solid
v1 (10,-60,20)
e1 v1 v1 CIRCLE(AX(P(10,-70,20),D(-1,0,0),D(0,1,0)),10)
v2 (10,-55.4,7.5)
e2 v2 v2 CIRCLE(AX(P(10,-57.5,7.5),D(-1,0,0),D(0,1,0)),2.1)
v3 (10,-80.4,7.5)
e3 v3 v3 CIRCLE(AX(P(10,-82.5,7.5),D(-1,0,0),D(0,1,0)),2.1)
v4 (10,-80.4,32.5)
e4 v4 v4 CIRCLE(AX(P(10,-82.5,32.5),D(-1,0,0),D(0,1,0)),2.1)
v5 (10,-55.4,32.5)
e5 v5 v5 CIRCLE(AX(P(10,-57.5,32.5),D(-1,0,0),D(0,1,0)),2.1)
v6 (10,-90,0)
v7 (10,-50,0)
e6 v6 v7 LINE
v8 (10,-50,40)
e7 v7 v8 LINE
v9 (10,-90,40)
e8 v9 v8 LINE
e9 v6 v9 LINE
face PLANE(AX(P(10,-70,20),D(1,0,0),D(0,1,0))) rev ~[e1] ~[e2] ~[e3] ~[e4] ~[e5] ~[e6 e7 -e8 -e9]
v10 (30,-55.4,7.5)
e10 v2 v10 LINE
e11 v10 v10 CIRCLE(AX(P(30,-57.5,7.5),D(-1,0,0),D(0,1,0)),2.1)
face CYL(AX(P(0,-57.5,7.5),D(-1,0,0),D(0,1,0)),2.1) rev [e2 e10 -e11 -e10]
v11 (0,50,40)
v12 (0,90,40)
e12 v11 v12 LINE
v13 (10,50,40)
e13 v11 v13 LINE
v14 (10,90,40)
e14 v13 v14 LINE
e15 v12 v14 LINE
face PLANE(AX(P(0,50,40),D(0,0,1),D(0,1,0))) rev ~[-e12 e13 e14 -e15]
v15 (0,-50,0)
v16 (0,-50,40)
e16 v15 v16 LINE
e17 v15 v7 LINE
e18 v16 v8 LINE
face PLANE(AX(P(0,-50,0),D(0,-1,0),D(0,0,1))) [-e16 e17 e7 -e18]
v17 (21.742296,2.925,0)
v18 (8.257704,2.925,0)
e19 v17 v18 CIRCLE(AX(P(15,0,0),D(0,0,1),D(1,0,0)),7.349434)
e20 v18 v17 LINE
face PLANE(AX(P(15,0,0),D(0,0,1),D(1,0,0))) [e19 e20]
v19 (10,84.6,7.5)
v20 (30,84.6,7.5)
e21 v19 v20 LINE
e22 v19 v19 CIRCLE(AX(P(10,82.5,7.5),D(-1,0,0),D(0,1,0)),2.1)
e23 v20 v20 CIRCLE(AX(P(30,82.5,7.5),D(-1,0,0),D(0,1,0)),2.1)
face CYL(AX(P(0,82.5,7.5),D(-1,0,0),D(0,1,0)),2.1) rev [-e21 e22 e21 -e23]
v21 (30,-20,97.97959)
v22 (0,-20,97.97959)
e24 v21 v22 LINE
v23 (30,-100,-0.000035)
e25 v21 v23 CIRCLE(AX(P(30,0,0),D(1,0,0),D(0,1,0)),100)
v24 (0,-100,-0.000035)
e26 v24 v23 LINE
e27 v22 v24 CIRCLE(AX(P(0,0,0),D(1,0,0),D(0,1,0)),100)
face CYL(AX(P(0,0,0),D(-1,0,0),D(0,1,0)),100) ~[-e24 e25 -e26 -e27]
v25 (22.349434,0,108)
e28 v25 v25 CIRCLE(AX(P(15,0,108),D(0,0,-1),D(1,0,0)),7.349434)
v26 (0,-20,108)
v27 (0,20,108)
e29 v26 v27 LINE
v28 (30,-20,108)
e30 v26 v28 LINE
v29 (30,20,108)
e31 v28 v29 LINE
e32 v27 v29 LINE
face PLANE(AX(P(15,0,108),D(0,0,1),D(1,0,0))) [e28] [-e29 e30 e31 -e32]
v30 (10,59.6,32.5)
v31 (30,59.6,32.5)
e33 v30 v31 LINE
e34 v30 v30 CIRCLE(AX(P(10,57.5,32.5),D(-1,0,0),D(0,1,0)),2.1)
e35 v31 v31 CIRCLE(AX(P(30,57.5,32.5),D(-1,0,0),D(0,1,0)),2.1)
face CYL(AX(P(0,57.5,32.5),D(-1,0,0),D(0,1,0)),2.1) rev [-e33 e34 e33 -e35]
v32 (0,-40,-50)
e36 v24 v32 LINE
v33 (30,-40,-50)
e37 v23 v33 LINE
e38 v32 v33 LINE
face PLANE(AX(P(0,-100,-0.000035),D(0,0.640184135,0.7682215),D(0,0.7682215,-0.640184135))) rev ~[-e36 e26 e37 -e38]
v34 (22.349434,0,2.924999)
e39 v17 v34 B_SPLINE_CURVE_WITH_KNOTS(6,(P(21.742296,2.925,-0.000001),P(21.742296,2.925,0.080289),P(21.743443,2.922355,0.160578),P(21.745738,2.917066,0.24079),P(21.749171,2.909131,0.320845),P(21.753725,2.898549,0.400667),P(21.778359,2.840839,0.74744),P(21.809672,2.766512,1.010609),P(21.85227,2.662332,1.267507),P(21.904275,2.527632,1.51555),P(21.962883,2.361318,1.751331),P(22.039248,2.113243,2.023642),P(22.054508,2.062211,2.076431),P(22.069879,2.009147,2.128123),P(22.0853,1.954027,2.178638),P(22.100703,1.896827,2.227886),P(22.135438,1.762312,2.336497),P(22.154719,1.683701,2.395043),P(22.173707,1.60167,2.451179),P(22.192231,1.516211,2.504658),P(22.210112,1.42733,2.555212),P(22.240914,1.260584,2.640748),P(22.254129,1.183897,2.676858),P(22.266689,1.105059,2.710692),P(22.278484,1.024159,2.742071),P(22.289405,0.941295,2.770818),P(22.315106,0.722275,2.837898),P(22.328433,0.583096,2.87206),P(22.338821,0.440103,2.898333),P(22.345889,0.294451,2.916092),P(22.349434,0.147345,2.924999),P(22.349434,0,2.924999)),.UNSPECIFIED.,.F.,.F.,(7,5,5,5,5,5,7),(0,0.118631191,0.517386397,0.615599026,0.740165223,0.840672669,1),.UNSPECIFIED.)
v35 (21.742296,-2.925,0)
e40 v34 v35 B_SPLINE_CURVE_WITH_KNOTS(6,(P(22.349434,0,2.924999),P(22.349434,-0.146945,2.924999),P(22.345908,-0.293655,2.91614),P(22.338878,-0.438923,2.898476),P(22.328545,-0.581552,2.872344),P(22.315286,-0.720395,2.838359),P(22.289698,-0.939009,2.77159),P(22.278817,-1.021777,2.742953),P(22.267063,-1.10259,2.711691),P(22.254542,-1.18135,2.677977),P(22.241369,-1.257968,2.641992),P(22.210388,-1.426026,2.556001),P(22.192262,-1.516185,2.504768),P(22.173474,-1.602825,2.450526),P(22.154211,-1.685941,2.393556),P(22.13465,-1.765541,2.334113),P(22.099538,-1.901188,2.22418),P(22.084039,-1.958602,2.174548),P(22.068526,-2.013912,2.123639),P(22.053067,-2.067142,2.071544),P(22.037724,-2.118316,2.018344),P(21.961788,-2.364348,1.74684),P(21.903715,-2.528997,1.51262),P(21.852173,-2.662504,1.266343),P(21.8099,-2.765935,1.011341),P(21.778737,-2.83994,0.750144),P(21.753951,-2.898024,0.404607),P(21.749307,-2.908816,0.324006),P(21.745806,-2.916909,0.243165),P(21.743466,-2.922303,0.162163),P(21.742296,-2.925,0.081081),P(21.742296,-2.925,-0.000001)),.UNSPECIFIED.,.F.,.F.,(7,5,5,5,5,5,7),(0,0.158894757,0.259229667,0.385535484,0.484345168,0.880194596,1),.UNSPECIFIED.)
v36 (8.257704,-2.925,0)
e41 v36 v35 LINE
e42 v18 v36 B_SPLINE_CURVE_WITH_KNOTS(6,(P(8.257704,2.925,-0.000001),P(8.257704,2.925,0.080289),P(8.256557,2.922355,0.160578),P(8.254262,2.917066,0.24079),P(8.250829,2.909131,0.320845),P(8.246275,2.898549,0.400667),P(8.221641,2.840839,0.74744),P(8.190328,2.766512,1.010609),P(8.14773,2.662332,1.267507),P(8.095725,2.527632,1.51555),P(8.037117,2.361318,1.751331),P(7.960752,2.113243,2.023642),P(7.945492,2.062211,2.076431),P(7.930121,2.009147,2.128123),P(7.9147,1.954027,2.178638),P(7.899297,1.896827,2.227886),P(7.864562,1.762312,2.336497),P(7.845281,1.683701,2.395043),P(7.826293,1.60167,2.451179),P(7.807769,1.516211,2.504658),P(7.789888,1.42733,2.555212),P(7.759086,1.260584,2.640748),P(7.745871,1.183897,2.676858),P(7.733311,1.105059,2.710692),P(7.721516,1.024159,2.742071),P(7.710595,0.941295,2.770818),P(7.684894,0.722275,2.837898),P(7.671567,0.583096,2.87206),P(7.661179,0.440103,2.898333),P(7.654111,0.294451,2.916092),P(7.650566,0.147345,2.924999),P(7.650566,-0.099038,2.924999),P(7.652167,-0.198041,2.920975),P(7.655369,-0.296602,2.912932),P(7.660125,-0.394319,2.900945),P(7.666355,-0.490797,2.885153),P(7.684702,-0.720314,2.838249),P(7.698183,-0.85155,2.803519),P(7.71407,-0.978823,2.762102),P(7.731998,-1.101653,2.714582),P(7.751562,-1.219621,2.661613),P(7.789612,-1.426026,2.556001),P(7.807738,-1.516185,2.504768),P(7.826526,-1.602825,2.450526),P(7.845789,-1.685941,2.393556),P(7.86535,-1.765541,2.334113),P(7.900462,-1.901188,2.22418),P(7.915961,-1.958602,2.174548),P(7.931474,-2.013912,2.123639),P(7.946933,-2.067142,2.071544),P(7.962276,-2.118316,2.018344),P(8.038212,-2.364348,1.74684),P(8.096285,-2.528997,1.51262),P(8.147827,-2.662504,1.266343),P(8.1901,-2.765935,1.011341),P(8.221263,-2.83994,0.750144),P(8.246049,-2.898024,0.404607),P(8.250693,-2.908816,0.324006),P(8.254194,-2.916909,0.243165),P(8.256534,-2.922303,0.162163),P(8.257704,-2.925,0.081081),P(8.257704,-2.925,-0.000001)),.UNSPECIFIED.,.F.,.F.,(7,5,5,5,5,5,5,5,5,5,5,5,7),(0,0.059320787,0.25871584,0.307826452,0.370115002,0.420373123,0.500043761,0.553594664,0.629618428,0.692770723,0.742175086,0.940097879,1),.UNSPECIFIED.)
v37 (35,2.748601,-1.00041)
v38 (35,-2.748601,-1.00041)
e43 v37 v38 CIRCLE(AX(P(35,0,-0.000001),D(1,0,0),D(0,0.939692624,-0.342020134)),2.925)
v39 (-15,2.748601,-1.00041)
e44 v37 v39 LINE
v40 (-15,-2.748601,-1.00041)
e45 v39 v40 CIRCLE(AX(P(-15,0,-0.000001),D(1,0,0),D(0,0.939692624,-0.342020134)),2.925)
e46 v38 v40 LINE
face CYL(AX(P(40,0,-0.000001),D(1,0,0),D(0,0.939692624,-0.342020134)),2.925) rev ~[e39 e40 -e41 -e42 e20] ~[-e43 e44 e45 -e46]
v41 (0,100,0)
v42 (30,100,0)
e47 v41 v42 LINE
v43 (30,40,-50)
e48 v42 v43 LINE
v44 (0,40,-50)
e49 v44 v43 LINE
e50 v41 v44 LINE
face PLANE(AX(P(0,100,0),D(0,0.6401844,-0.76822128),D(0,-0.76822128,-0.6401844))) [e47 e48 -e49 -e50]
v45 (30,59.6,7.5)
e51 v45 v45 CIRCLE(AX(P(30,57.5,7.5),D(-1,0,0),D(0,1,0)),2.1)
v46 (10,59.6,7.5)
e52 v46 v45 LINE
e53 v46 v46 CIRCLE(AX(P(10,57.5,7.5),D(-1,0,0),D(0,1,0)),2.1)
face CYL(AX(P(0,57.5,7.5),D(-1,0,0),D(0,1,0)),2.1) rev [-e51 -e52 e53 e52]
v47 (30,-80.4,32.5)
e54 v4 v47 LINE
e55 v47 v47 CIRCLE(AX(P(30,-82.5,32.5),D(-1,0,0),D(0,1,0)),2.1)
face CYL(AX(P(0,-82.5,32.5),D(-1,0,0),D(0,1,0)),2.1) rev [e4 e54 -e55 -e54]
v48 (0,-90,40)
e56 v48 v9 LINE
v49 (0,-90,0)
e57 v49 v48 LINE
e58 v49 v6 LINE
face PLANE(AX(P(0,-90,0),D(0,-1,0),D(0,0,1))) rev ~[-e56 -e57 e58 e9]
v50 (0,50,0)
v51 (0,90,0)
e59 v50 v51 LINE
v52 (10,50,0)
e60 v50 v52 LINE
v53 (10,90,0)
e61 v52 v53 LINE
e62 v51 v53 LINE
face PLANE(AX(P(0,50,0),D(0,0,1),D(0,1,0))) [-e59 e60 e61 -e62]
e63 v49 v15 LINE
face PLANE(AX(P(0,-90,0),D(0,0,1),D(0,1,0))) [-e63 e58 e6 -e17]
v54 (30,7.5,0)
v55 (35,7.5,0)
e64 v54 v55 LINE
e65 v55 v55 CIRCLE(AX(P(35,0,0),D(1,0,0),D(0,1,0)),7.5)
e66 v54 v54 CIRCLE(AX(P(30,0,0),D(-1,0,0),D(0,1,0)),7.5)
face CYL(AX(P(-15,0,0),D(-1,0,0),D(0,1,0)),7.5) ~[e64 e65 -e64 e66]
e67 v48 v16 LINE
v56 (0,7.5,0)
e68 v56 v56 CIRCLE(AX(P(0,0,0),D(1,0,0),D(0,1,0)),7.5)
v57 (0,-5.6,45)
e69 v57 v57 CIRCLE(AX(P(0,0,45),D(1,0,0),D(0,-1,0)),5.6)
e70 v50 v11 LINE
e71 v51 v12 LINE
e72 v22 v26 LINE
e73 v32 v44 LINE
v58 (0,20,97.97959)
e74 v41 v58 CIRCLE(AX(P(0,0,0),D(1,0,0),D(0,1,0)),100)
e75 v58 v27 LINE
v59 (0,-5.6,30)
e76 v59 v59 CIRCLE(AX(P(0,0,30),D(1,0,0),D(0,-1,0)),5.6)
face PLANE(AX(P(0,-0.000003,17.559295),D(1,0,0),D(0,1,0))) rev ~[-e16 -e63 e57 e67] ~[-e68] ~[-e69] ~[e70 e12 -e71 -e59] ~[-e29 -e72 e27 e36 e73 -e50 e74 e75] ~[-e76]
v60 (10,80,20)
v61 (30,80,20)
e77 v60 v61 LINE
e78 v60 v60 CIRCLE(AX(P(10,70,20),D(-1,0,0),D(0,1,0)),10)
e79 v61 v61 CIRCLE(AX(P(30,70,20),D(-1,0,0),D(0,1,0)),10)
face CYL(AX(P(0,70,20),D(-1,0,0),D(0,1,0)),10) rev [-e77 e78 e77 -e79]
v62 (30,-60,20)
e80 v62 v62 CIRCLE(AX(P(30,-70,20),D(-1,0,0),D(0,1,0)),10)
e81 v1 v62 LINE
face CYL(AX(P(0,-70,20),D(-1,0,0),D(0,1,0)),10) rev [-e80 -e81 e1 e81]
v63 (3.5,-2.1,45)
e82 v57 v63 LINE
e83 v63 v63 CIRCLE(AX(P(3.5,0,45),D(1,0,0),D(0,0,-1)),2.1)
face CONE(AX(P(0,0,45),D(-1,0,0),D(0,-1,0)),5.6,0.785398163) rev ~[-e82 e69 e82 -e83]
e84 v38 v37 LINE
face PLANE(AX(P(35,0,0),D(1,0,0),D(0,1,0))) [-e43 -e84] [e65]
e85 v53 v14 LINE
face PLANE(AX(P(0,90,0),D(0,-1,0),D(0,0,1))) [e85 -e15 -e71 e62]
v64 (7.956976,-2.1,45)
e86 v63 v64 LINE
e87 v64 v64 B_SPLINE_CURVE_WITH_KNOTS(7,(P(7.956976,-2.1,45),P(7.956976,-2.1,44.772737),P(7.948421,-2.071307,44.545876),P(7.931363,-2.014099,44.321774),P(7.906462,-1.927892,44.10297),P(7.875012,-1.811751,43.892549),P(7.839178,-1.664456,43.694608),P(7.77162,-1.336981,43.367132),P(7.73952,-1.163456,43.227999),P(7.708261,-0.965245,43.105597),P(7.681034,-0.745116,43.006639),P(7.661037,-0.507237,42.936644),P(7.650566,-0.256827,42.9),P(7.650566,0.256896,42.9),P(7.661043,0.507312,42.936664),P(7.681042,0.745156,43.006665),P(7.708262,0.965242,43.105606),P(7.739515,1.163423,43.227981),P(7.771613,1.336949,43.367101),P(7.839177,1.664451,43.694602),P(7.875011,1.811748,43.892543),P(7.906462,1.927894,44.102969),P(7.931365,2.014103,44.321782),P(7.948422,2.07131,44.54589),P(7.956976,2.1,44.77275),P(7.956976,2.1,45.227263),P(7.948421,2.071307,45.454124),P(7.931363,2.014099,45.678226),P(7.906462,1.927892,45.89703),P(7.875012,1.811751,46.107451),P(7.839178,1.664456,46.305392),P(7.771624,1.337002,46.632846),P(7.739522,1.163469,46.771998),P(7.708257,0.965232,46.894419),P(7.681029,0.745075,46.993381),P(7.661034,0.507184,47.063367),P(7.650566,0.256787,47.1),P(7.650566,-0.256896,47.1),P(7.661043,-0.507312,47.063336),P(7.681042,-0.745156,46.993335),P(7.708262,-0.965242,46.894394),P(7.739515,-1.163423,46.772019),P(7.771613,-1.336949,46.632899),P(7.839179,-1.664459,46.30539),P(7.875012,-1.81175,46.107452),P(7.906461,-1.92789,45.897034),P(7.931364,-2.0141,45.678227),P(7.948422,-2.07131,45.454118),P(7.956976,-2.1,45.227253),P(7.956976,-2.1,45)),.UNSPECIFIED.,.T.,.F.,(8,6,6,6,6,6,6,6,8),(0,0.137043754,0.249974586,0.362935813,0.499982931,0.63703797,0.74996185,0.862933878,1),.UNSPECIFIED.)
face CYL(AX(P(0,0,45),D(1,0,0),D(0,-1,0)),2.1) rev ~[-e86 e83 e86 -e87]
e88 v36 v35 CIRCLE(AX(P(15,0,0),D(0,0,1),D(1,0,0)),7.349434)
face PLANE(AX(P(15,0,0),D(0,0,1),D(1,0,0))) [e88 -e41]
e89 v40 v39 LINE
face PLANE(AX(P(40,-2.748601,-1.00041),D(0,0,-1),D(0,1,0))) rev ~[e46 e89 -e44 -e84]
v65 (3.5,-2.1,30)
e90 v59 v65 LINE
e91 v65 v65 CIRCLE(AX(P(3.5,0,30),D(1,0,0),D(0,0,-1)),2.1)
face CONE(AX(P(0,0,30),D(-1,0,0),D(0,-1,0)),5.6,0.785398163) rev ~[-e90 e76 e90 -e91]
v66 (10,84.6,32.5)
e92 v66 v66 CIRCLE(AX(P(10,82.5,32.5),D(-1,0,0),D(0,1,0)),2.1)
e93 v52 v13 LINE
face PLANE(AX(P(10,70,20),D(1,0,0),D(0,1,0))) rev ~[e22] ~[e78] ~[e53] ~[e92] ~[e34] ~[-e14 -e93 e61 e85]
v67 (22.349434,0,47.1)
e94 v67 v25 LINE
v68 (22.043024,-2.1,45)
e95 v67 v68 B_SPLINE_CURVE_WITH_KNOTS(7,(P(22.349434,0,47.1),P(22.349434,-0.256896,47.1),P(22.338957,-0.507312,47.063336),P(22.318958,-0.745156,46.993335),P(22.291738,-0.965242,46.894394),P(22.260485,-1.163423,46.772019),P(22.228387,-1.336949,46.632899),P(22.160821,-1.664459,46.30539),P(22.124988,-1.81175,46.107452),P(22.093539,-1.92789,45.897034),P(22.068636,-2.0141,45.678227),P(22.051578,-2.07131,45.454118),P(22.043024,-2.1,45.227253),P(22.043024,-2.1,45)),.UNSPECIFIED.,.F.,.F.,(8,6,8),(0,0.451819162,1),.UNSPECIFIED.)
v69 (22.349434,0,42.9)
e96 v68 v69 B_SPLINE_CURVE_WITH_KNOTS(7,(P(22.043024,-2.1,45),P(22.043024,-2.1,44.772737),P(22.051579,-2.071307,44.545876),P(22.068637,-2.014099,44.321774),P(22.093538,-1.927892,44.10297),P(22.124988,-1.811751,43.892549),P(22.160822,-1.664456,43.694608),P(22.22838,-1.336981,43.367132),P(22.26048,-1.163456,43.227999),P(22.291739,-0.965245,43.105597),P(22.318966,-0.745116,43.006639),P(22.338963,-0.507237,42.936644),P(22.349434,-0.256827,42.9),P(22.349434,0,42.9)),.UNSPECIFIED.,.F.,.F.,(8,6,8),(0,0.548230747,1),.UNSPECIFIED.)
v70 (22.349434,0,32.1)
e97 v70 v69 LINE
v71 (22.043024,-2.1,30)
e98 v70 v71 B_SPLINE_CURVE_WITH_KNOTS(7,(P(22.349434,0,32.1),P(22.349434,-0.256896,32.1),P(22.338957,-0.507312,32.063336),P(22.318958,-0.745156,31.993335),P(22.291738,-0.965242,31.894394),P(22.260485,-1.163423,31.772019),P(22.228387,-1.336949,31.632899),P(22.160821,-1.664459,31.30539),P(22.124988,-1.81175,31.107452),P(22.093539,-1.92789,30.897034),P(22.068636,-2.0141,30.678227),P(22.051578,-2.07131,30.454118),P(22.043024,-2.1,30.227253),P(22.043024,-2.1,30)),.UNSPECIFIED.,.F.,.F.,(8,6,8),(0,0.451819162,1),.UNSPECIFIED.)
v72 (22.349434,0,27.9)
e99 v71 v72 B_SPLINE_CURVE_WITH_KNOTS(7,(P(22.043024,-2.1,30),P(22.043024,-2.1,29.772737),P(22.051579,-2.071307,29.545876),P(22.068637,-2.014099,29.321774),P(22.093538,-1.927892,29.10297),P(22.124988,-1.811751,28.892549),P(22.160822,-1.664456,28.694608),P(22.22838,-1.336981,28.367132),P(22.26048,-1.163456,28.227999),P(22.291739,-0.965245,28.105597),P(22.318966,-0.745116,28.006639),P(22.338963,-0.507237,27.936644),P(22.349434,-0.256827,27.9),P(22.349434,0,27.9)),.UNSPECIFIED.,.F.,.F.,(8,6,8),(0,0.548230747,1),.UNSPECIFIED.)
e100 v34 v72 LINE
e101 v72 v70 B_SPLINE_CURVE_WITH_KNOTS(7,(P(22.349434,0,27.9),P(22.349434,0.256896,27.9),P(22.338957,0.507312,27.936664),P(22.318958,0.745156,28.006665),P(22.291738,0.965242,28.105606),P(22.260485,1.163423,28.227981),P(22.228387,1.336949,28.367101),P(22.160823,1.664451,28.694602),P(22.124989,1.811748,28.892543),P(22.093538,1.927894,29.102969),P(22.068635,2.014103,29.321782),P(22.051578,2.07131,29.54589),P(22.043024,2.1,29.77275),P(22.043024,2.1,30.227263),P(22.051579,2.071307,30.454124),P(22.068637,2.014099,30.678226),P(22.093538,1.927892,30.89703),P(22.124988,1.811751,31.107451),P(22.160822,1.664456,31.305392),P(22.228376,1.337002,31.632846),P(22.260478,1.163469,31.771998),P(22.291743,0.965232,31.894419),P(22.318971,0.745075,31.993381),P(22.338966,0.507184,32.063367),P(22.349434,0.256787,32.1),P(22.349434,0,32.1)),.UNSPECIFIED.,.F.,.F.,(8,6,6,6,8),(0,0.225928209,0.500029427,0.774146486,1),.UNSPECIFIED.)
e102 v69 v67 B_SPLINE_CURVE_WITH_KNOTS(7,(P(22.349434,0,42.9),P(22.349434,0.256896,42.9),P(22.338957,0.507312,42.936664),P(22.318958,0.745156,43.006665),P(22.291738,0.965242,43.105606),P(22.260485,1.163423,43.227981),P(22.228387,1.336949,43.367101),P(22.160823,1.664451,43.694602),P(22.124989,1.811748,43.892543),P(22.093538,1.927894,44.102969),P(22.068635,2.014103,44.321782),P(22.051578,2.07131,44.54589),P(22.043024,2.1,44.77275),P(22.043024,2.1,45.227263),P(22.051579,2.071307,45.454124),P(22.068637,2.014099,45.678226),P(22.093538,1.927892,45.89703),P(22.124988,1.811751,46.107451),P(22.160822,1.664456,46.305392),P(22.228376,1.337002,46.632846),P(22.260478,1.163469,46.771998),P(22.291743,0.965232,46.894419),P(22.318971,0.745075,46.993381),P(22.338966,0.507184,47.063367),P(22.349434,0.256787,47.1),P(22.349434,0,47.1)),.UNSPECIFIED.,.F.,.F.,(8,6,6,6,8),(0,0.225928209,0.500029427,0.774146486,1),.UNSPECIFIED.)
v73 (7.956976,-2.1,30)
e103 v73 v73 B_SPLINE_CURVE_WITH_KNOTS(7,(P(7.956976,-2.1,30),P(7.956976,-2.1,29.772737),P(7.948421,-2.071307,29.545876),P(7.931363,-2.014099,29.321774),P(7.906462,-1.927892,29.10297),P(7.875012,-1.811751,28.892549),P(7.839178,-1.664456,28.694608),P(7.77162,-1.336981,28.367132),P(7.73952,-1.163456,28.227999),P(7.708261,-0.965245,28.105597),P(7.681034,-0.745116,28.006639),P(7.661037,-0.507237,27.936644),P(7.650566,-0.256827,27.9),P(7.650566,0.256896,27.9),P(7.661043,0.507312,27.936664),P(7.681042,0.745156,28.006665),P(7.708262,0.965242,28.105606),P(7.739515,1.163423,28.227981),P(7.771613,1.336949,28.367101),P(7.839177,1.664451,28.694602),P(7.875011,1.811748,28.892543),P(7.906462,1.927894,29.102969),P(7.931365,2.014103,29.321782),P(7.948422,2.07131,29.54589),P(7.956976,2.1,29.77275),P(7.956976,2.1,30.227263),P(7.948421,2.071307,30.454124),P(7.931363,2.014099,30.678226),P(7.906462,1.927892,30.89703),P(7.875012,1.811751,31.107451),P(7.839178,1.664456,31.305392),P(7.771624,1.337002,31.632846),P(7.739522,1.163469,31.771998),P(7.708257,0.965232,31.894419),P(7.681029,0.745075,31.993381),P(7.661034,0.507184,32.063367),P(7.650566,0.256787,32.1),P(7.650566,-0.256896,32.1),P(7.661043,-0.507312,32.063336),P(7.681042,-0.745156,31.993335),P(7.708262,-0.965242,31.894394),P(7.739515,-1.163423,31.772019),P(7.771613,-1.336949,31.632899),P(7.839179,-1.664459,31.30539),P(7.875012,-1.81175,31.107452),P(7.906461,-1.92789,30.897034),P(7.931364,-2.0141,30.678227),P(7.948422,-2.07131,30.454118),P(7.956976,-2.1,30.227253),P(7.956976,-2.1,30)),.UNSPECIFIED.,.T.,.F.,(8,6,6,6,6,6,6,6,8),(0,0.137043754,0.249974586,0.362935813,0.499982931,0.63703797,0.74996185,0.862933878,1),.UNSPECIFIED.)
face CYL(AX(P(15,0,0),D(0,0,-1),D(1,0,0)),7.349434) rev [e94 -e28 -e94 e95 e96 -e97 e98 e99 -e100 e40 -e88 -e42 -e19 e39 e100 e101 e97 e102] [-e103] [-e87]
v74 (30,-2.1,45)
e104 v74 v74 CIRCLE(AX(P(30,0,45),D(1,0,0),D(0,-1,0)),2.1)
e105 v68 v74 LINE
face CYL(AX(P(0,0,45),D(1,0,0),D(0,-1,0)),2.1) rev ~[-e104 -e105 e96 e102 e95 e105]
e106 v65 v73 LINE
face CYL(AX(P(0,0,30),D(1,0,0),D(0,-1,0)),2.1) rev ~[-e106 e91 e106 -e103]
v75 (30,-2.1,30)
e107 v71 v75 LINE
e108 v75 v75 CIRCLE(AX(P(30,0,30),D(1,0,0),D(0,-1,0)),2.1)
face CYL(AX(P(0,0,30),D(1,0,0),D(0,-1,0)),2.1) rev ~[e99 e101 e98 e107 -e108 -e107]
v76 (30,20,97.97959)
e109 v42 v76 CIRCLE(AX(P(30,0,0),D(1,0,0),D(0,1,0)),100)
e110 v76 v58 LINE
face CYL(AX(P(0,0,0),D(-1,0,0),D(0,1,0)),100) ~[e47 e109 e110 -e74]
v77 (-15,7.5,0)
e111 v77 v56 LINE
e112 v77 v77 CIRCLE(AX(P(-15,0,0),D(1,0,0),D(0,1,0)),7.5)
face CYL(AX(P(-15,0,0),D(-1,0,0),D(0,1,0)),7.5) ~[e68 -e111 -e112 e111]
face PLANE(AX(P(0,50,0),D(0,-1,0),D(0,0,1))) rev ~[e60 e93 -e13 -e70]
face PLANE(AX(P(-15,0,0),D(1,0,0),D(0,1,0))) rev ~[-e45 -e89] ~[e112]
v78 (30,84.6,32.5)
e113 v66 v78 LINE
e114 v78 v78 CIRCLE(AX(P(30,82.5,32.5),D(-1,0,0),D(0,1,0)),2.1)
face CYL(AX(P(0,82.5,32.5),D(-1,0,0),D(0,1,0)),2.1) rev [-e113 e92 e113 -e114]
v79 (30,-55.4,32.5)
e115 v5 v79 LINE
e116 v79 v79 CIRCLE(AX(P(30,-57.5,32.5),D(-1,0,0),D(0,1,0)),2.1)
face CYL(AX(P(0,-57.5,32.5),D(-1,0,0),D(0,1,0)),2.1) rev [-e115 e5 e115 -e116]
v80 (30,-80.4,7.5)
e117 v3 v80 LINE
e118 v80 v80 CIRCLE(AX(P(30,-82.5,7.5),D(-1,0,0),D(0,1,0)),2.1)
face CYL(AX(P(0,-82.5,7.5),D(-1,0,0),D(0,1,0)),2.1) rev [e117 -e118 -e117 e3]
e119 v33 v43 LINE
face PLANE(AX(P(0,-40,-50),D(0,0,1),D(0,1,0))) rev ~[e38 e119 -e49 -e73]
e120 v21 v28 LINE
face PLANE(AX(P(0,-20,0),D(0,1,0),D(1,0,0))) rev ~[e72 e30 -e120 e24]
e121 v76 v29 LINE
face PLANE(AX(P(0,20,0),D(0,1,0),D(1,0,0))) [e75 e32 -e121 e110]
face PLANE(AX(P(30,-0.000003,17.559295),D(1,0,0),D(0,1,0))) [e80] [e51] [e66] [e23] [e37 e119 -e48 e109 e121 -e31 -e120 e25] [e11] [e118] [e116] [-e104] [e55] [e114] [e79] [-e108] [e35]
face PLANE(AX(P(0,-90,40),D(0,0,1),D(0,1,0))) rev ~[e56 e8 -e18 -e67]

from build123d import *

# Parameters (mm, degrees)
PAD_DEPTH           = 30
SKETCH007_R         = 7.5
PAD006_DEPTH        = 50
SKETCH009_W         = 30
SKETCH009_H         = 40
PAD007_DEPTH        = 108
SKETCH008_R         = 7.349434
POCKET_DEPTH        = 114
HOLE001_D           = 4.2
HOLE001_DEPTH       = 62
HOLE001_CSINK_D     = 11.2
HOLE001_CSINK_ANGLE = 90
SKETCH012_R         = 10
POCKET001_DEPTH     = 42
SKETCH016_W         = 40
SKETCH016_H         = 40
POCKET004_DEPTH     = 10
SKETCH017_R         = 2.1
HOLE002_DEPTH       = 36
POCKET007_DEPTH     = 71


with BuildPart() as part:
    # Sketch → Pad (new body)
    with BuildSketch(Plane.YZ):
        with BuildLine():
            ThreePointArc((100, 0), (-1.8e-05, 100), (-100, -3.5e-05))
            Line((-100, -3.5e-05), (-40, -50))
            Line((-40, -50), (40, -50))
            Line((100, 0), (40, -50))
        make_face()
    extrude(amount=PAD_DEPTH)

    # Sketch007 → Pad006 (join)
    with BuildSketch(Plane.YZ.offset(-15)):
        Circle(SKETCH007_R)
    extrude(amount=PAD006_DEPTH)

    # Sketch009 → Pad007 (join)
    with BuildSketch(Plane.XY):
        with Locations((15, 0)):
            Rectangle(SKETCH009_W, SKETCH009_H)
    extrude(amount=PAD007_DEPTH)

    # Sketch008 → Pocket (cut)
    with BuildSketch(Plane.XY):
        with Locations((15, 0)):
            Circle(SKETCH008_R)
    extrude(amount=POCKET_DEPTH, mode=Mode.SUBTRACT)

    # Hole001
    with Locations(Plane(origin=(0, 0, 0), x_dir=(0, 1, 0), z_dir=(-1, 0, 0))):
        with Locations((0, -45), (0, -30)):
            CounterSinkHole(HOLE001_D / 2, HOLE001_CSINK_D / 2, depth=HOLE001_DEPTH, counter_sink_angle=HOLE001_CSINK_ANGLE)

    # Sketch012 → Pocket001 (cut)
    with BuildSketch(Plane.YZ):
        with Locations((-70, 20)):
            Circle(SKETCH012_R)
        with Locations((70, 20)):
            Circle(SKETCH012_R)
    extrude(amount=POCKET001_DEPTH, mode=Mode.SUBTRACT)

    # Sketch016 → Pocket004 (cut)
    with BuildSketch(Plane.YZ):
        with Locations((-70, 20)):
            Rectangle(SKETCH016_W, SKETCH016_H)
        with Locations((70, 20)):
            Rectangle(SKETCH016_W, SKETCH016_H)
    extrude(amount=POCKET004_DEPTH, mode=Mode.SUBTRACT)

    # Sketch017 → Hole002 (cut)
    with BuildSketch(Plane.YZ):
        with Locations((-82.5, 32.5)):
            Circle(SKETCH017_R)
        with Locations((-57.5, 32.5)):
            Circle(SKETCH017_R)
        with Locations((-82.5, 7.5)):
            Circle(SKETCH017_R)
        with Locations((-57.5, 7.5)):
            Circle(SKETCH017_R)
        with Locations((57.5, 32.5)):
            Circle(SKETCH017_R)
        with Locations((82.5, 32.5)):
            Circle(SKETCH017_R)
        with Locations((57.5, 7.5)):
            Circle(SKETCH017_R)
        with Locations((82.5, 7.5)):
            Circle(SKETCH017_R)
    extrude(amount=HOLE002_DEPTH, mode=Mode.SUBTRACT)

    # Sketch031 → Pocket007 (cut)
    with BuildSketch(Plane.YZ.offset(40)):
        with BuildLine():
            ThreePointArc((2.748601, -1.00041), (0, 2.924999), (-2.748601, -1.00041))
            Line((-2.748601, -1.00041), (2.748601, -1.00041))
        make_face()
    extrude(amount=-POCKET007_DEPTH, mode=Mode.SUBTRACT)


solid = part.part
